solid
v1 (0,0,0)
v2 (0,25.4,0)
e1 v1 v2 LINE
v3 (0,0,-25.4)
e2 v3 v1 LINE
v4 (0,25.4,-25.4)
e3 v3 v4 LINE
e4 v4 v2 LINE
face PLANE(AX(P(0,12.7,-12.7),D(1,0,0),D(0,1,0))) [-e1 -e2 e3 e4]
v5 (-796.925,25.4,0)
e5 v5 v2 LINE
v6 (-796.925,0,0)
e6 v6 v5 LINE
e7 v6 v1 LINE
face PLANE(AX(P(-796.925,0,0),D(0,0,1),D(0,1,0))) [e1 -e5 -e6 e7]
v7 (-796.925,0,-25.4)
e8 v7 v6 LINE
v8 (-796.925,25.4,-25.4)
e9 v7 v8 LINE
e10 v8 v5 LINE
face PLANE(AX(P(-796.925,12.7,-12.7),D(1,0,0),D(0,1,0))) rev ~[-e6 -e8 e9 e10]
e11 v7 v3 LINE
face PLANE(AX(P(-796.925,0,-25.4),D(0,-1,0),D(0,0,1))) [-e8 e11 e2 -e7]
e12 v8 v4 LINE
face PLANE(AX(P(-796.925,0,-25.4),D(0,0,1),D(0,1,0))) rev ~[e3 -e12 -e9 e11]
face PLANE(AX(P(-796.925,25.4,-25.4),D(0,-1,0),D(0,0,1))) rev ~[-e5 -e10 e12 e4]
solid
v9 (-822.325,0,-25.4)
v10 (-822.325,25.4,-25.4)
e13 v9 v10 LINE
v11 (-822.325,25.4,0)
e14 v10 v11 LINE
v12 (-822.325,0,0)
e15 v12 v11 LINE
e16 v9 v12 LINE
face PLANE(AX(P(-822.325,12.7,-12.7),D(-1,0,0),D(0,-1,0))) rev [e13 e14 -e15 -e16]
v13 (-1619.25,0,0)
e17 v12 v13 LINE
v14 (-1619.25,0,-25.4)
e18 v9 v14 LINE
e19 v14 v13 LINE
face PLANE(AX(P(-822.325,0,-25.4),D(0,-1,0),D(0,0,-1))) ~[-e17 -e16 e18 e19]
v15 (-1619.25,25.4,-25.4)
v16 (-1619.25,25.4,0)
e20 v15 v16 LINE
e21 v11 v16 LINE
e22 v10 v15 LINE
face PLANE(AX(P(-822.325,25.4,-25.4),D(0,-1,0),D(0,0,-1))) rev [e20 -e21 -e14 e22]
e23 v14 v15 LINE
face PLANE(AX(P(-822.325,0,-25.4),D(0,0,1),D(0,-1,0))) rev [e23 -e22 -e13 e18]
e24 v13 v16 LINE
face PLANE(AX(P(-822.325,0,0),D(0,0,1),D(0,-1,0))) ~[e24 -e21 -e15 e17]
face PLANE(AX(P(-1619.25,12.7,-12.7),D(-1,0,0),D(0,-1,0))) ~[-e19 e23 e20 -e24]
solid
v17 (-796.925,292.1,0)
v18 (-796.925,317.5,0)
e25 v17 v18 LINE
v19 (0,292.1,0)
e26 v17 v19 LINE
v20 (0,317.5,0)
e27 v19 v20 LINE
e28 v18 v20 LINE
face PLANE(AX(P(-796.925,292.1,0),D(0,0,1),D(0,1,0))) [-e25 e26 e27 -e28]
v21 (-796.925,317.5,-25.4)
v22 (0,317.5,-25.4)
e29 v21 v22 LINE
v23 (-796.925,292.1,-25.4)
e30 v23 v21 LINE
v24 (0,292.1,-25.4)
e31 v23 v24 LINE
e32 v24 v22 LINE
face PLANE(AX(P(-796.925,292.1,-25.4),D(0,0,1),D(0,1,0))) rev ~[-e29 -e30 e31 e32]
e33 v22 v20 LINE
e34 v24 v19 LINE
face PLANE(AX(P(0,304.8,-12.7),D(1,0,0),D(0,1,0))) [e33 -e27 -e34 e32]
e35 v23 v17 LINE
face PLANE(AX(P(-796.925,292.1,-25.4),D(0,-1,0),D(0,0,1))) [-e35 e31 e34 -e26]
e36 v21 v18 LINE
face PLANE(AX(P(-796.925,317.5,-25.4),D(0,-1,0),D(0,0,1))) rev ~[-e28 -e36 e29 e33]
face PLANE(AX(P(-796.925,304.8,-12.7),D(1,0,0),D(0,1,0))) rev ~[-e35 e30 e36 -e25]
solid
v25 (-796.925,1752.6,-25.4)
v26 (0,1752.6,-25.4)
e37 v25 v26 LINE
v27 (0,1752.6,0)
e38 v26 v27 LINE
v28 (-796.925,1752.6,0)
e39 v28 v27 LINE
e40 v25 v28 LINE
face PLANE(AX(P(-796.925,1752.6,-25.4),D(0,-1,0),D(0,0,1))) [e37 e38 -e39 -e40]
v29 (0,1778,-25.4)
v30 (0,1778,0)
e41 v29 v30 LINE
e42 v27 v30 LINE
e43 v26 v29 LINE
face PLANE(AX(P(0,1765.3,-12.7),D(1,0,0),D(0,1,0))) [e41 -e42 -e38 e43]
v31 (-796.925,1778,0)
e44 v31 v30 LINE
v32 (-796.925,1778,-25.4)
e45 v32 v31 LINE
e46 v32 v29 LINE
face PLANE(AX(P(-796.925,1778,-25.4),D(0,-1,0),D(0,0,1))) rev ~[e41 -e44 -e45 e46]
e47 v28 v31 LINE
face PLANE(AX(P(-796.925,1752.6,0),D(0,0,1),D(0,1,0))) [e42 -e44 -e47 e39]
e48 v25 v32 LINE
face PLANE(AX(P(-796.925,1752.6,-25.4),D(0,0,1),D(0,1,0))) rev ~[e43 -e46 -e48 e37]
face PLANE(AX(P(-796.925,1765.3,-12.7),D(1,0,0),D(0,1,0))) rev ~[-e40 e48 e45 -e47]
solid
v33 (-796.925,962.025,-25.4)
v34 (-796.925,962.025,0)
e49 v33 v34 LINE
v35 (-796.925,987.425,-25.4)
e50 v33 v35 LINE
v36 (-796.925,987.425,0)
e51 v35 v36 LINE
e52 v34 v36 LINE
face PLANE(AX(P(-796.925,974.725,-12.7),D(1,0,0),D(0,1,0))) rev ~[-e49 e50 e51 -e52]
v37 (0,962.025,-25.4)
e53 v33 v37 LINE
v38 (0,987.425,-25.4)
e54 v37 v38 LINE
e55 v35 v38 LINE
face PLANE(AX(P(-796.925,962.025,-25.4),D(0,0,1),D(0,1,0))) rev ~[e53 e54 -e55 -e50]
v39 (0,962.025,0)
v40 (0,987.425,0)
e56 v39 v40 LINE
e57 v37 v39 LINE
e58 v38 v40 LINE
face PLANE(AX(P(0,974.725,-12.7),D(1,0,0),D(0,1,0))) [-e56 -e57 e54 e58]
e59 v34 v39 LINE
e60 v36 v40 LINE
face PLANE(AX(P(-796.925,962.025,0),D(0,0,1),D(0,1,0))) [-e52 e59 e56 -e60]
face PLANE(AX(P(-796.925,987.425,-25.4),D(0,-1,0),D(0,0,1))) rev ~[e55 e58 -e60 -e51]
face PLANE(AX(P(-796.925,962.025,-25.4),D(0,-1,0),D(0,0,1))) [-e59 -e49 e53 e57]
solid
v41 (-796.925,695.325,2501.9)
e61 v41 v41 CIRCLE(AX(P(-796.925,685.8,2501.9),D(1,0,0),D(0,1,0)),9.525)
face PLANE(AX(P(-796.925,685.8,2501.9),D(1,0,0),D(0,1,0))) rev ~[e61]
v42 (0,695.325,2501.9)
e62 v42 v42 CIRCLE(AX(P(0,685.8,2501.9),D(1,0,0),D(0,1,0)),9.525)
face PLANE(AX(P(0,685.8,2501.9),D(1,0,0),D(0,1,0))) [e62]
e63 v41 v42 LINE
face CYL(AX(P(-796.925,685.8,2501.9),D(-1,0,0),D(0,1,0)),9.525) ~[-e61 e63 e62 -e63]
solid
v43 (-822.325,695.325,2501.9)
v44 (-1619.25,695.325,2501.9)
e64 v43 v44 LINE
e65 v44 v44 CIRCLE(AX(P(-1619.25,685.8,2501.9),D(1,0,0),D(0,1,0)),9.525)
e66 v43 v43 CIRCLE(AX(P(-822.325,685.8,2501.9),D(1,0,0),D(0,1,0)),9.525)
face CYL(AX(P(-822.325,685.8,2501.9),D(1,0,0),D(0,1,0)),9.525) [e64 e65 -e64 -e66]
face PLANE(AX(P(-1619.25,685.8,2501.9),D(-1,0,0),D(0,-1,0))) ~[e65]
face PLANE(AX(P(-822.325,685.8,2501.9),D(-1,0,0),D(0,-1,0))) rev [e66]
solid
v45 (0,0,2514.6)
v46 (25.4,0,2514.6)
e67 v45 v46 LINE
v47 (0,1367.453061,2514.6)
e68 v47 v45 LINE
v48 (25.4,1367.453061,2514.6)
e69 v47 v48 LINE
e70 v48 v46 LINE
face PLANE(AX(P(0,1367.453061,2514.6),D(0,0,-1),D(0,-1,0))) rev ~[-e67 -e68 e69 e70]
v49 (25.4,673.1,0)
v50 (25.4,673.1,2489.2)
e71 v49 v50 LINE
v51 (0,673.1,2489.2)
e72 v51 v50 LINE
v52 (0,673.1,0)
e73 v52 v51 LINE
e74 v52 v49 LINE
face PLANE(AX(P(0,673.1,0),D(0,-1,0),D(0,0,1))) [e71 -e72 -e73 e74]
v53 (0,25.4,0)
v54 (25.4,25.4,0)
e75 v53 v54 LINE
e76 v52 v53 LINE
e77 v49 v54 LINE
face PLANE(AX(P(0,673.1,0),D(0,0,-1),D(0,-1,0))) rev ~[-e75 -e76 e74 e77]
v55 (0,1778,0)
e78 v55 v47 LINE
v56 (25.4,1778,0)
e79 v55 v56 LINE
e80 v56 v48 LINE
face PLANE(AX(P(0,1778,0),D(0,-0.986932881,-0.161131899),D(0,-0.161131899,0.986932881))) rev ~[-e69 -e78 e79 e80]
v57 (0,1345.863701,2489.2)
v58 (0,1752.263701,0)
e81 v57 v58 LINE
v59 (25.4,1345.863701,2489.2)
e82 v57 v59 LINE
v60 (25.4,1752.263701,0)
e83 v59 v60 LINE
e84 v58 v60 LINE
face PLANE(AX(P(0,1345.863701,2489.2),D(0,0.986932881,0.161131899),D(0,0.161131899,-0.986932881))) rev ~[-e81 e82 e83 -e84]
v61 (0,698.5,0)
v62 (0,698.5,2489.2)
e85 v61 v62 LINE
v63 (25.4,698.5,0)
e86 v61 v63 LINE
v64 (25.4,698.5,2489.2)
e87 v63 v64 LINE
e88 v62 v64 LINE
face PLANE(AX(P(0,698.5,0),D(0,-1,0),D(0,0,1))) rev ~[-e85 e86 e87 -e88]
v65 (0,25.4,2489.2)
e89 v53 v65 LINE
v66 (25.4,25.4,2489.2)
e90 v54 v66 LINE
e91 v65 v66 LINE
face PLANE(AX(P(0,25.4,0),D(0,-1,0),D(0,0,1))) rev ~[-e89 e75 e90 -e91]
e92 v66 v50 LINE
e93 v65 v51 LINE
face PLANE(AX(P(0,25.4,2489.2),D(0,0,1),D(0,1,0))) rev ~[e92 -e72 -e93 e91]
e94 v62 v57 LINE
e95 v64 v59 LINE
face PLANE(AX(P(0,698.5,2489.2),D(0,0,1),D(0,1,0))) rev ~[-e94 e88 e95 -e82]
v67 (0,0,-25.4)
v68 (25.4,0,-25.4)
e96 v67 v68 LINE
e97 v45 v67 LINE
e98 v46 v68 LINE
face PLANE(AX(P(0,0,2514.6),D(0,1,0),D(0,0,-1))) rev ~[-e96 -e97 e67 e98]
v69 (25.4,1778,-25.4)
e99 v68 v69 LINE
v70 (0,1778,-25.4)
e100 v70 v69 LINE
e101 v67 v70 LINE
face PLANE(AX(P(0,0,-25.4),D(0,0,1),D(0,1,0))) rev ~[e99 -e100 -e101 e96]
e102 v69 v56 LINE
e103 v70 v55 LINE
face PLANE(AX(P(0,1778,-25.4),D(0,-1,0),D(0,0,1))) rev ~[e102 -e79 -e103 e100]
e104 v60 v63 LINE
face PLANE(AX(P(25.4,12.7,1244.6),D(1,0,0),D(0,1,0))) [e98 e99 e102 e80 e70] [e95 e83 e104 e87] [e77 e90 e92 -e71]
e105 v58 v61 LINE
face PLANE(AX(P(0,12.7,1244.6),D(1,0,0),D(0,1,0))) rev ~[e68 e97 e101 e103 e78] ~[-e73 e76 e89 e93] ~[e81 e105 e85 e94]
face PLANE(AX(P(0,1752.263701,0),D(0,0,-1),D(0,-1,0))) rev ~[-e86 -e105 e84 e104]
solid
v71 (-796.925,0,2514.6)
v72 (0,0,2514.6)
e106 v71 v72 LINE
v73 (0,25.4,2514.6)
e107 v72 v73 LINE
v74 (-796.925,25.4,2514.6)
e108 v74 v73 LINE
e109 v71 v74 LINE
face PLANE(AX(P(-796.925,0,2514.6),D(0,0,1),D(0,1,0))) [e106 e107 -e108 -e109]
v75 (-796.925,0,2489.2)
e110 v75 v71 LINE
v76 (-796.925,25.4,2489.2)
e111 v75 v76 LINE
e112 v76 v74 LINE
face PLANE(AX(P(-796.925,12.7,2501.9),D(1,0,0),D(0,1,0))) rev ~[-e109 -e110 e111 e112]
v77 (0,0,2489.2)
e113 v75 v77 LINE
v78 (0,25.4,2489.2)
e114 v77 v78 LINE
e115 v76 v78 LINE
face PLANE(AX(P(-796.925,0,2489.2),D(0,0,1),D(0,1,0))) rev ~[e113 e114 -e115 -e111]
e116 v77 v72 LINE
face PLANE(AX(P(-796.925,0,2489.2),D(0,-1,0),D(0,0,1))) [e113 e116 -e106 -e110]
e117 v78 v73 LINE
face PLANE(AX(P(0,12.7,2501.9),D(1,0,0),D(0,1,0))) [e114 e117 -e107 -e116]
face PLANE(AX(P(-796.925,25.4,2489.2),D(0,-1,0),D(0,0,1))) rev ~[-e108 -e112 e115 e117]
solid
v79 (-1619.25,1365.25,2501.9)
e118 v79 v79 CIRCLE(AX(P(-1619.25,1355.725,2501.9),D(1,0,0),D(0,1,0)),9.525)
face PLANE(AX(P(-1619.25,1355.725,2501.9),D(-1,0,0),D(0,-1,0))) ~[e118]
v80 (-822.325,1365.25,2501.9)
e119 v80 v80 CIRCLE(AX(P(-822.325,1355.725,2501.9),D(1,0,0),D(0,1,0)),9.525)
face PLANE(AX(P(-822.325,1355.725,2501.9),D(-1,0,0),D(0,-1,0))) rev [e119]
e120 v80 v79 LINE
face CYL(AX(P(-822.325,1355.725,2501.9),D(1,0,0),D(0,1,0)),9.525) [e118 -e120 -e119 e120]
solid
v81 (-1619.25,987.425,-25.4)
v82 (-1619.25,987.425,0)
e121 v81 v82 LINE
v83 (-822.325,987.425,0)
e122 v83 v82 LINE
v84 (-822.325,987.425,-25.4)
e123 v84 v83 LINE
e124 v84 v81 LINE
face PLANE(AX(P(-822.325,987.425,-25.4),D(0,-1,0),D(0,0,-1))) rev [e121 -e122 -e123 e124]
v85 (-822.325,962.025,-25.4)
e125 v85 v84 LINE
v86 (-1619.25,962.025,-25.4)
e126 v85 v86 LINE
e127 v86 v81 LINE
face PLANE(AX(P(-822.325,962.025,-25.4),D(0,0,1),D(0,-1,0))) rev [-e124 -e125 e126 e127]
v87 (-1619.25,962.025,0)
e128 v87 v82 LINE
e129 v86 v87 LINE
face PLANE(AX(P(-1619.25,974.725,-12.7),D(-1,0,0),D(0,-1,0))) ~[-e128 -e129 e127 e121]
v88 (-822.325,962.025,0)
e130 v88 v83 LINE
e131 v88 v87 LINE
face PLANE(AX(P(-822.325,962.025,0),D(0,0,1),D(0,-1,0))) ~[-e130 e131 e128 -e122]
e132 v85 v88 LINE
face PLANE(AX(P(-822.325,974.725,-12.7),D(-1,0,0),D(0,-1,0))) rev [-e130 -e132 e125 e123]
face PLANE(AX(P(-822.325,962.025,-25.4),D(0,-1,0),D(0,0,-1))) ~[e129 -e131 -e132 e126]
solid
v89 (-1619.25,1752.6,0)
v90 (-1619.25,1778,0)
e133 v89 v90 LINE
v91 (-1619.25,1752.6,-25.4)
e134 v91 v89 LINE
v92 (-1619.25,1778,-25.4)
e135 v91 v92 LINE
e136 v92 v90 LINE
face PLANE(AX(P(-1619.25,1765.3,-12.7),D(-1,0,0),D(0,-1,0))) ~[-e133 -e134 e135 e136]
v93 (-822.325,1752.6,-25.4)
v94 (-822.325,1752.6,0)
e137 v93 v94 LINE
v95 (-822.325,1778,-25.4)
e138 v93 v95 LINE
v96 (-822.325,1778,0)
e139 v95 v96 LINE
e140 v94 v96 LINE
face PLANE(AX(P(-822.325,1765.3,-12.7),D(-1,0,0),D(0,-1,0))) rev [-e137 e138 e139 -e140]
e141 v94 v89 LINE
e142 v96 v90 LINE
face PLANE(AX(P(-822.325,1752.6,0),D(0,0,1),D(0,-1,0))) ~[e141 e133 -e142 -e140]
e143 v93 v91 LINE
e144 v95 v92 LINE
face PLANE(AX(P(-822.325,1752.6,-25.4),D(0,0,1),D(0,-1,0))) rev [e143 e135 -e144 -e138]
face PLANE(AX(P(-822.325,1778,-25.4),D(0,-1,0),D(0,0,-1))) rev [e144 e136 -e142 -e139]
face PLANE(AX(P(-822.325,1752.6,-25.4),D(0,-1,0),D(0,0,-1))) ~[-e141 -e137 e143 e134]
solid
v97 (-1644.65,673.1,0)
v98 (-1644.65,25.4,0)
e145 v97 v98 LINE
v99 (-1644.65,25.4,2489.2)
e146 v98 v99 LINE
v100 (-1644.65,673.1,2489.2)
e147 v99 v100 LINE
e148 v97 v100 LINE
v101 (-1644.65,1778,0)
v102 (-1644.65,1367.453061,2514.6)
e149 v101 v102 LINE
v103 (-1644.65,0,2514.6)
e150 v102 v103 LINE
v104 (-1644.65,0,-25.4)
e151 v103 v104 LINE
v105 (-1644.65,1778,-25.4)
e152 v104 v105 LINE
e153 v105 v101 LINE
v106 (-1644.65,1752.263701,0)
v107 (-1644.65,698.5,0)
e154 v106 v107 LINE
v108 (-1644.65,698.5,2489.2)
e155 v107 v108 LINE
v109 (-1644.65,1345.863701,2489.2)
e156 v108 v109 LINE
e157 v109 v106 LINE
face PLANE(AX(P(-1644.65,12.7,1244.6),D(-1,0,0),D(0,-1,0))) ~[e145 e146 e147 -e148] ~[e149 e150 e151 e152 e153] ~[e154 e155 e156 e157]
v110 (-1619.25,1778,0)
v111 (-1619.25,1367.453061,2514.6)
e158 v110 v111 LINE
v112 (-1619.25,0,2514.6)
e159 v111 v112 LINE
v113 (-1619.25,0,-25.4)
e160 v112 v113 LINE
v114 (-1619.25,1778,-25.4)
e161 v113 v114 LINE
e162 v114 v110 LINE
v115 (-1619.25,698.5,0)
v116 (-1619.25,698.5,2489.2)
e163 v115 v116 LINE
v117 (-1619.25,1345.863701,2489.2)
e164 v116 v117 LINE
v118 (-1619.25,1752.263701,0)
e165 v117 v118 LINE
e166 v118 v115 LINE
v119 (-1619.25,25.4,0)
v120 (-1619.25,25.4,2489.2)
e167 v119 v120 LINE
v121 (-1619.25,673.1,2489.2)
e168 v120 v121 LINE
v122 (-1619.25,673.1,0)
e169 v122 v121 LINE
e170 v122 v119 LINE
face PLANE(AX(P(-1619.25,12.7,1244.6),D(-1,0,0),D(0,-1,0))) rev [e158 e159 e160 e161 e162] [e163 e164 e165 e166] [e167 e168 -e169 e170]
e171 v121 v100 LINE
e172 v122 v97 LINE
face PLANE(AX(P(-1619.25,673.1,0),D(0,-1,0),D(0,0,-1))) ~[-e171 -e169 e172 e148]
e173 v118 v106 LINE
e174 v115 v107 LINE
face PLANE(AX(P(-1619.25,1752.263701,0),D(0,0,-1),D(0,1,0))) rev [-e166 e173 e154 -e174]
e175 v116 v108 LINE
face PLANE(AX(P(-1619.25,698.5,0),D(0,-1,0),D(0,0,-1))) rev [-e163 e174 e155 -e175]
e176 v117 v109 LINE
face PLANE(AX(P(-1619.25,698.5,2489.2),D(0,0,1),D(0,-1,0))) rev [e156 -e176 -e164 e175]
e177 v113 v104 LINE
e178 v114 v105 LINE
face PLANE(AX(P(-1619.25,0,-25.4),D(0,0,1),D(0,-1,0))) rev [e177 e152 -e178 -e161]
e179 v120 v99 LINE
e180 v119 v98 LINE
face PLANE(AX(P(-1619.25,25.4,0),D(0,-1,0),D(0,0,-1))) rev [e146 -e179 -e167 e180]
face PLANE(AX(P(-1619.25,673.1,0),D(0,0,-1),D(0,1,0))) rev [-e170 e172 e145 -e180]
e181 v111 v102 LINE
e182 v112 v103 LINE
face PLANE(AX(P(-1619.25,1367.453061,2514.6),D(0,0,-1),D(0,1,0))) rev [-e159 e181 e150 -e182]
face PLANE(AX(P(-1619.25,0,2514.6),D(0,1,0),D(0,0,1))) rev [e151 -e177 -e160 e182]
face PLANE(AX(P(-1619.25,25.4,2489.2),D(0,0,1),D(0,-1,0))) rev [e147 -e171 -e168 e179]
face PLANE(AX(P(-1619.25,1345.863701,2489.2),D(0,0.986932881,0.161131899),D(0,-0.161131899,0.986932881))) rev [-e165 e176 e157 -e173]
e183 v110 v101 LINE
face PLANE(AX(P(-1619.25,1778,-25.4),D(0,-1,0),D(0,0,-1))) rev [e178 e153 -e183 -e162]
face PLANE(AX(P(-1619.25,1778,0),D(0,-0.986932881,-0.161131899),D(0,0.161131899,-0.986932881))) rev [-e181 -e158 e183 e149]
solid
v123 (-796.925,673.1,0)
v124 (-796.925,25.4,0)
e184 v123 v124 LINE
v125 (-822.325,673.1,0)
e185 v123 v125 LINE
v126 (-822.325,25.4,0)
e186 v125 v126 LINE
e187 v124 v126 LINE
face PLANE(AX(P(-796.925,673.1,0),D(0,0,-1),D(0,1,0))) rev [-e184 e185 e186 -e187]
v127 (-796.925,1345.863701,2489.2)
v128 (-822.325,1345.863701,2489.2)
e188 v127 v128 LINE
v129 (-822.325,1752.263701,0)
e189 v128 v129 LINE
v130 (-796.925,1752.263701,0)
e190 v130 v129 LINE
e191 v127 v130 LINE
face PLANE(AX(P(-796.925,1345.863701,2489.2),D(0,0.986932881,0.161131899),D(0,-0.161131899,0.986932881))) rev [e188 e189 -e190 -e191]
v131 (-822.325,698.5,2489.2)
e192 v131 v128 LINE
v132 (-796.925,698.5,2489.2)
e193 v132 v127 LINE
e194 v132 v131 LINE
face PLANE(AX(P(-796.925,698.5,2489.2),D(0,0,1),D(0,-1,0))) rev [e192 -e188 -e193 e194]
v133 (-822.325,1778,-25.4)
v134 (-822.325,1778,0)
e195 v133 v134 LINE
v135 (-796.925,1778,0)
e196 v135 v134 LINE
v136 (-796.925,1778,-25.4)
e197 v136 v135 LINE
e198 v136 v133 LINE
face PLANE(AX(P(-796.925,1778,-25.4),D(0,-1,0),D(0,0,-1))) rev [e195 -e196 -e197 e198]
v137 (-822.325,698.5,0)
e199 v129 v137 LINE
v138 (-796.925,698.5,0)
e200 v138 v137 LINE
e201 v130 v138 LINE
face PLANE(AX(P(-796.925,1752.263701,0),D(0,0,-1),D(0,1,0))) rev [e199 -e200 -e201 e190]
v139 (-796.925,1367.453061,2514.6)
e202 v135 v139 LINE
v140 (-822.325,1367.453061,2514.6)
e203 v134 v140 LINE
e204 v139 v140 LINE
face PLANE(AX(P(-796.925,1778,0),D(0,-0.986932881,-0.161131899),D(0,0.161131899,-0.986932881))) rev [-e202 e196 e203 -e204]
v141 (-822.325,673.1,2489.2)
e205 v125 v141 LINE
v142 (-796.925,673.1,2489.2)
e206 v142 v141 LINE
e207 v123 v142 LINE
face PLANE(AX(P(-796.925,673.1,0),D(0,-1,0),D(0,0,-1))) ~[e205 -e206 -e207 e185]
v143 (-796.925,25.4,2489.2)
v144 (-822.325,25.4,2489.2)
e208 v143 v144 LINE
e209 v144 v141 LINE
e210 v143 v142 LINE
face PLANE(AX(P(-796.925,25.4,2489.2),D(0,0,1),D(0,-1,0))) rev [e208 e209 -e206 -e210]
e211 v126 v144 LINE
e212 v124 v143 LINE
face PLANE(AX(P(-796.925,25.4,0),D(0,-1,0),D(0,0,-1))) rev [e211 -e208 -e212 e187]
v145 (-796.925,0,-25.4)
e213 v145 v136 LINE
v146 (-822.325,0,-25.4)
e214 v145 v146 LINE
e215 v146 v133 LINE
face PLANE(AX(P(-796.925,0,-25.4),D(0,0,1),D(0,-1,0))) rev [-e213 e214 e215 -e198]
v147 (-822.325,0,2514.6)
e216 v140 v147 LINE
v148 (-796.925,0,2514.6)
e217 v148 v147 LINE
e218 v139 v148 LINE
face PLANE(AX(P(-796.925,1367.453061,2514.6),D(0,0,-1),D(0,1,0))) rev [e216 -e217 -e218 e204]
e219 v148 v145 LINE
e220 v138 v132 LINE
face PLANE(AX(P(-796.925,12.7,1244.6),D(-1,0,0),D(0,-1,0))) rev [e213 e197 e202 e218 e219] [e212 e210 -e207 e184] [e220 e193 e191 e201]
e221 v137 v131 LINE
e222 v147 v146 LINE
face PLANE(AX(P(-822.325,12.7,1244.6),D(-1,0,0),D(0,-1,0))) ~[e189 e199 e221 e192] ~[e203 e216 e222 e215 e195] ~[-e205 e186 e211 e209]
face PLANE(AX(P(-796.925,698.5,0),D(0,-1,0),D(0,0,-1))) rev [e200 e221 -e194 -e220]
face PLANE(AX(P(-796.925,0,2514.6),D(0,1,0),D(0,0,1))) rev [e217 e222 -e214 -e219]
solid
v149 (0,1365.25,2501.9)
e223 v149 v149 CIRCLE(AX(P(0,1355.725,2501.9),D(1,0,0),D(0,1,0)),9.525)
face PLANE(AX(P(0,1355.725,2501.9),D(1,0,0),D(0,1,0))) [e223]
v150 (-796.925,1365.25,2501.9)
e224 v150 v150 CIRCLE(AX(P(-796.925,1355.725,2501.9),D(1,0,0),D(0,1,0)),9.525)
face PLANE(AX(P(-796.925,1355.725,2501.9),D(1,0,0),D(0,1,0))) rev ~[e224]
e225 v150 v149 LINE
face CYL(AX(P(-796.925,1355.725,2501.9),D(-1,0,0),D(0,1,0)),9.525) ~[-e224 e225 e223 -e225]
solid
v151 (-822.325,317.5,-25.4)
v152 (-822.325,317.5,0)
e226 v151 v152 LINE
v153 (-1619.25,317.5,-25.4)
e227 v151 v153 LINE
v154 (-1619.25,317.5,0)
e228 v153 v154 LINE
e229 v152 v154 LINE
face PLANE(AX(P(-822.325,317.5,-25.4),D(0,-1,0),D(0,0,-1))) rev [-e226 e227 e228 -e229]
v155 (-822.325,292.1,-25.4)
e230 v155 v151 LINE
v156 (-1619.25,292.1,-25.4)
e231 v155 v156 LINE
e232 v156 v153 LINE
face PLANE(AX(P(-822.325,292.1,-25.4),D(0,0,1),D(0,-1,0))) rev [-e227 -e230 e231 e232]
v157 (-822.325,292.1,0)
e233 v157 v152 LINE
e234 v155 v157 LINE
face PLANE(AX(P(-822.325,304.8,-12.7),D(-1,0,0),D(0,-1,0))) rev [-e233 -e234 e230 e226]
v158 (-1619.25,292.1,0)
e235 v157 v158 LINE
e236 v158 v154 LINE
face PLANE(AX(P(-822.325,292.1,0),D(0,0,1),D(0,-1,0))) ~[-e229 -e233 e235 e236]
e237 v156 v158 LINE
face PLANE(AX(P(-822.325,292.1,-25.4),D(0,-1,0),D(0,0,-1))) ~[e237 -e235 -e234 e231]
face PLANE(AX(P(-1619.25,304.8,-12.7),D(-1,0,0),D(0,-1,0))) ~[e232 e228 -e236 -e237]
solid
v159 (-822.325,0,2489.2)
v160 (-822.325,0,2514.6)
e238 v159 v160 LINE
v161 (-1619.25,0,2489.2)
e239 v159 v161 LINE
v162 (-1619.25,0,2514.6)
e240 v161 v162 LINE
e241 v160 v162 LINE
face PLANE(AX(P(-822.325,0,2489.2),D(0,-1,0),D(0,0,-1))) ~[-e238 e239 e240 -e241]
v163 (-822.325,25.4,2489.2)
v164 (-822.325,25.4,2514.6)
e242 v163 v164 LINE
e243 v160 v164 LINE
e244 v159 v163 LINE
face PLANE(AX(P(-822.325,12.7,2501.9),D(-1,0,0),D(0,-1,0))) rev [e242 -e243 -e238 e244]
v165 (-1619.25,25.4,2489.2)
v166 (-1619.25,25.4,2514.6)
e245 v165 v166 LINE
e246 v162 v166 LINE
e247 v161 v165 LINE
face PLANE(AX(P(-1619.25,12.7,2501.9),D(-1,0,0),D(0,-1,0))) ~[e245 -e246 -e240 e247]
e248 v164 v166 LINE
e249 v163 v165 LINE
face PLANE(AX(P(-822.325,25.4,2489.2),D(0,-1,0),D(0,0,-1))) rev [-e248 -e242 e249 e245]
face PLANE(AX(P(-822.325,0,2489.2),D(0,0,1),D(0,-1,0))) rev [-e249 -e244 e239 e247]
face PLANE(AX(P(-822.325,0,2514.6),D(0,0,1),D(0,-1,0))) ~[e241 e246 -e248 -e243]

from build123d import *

# Parameters (mm, degrees)
F0_W     = 25.4
F0_H     = 2489.2
F1_DEPTH = 25.4
F6_W     = 25.4
F6_H     = 25.4
F7_DEPTH = 796.925
F6_R     = 9.525


with BuildPart() as f1:
    # F0 (on Right) → F1 (new body)
    with BuildSketch(Plane.YZ):
        with Locations((12.7, 1244.6)):
            Rectangle(F0_W, F0_H)
        Polygon((25.4, 0), (0, 0), (0, -25.4), (1778, -25.4), (1778, 0), (1752.2637007088, 0), (698.5, 0), (673.1, 0), align=None)
        Polygon((0, 2514.6), (0, 2489.2), (25.4, 2489.2), (673.1, 2489.2), (698.5, 2489.2), (1345.8637007088, 2489.2), (1371.6, 2489.2), (1367.4530612245, 2514.6), align=None)
        Polygon((1752.2637007088, 0), (1778, 0), (1371.6, 2489.2), (1345.8637007088, 2489.2), align=None)
        with Locations((685.8, 1244.6)):
            Rectangle(F0_W, F0_H)
    extrude(amount=F1_DEPTH)


with BuildPart() as f3_1:
    # F3: instance of F1
    add(f1.part.mirror(Plane(origin=(-809.625, 769.7711953275, 1196.3676158974), x_dir=(0, 1, 0), z_dir=(1, 0, 0))))


with BuildPart() as f5_1:
    # F5: instance of F1
    add(f1.part.mirror(Plane(origin=(-398.4625, 769.7711953275, 1196.3676158974), x_dir=(0, 1, 0), z_dir=(1, 0, 0))))


with BuildPart() as f7:
    # F6 (on face) → F7 (new body, through all)
    with BuildSketch(Plane.YZ.offset(-796.925)):
        with Locations((1765.3, -12.7)):
            Rectangle(F6_W, F6_H)
    extrude(amount=F7_DEPTH)


with BuildPart() as f7b:
    # F6 (on face) → F7, piece 2 (new body, through all)
    with BuildSketch(Plane.YZ.offset(-796.925)):
        with Locations((12.7, -12.7)):
            Rectangle(F6_W, F6_H)
    extrude(amount=F7_DEPTH)


with BuildPart() as f7c:
    # F6 (on face) → F7, piece 3 (new body, through all)
    with BuildSketch(Plane.YZ.offset(-796.925)):
        with Locations((12.7, 2501.9)):
            Rectangle(F6_W, F6_H)
    extrude(amount=F7_DEPTH)


with BuildPart() as f7d:
    # F6 (on face) → F7, piece 4 (new body, through all)
    with BuildSketch(Plane.YZ.offset(-796.925)):
        with Locations((304.8, -12.7)):
            Rectangle(F6_W, F6_H)
    extrude(amount=F7_DEPTH)


with BuildPart() as f7e:
    # F6 (on face) → F7, piece 5 (new body, through all)
    with BuildSketch(Plane.YZ.offset(-796.925)):
        with Locations((974.725, -12.7)):
            Rectangle(F6_W, F6_H)
    extrude(amount=F7_DEPTH)


with BuildPart() as f7f:
    # F6 (on face) → F7, piece 6 (new body, through all)
    with BuildSketch(Plane.YZ.offset(-796.925)):
        with Locations((685.8, 2501.9)):
            Circle(F6_R)
    extrude(amount=F7_DEPTH)


with BuildPart() as f7g:
    # F6 (on face) → F7, piece 7 (new body, through all)
    with BuildSketch(Plane.YZ.offset(-796.925)):
        with Locations((1355.725, 2501.9)):
            Circle(F6_R)
    extrude(amount=F7_DEPTH)


with BuildPart() as f9_1:
    # F9: instance of F7c
    add(f7c.part.mirror(Plane(origin=(-809.625, 769.7711953275, 1196.3676158974), x_dir=(0, 1, 0), z_dir=(1, 0, 0))))


with BuildPart() as f9_2:
    # F9: instance of F7f
    add(f7f.part.mirror(Plane(origin=(-809.625, 769.7711953275, 1196.3676158974), x_dir=(0, 1, 0), z_dir=(1, 0, 0))))


with BuildPart() as f9_3:
    # F9: instance of F7g
    add(f7g.part.mirror(Plane(origin=(-809.625, 769.7711953275, 1196.3676158974), x_dir=(0, 1, 0), z_dir=(1, 0, 0))))


with BuildPart() as f9_4:
    # F9: instance of F7
    add(f7.part.mirror(Plane(origin=(-809.625, 769.7711953275, 1196.3676158974), x_dir=(0, 1, 0), z_dir=(1, 0, 0))))


with BuildPart() as f9_5:
    # F9: instance of F7e
    add(f7e.part.mirror(Plane(origin=(-809.625, 769.7711953275, 1196.3676158974), x_dir=(0, 1, 0), z_dir=(1, 0, 0))))


with BuildPart() as f9_6:
    # F9: instance of F7d
    add(f7d.part.mirror(Plane(origin=(-809.625, 769.7711953275, 1196.3676158974), x_dir=(0, 1, 0), z_dir=(1, 0, 0))))


with BuildPart() as f9_7:
    # F9: instance of F7b
    add(f7b.part.mirror(Plane(origin=(-809.625, 769.7711953275, 1196.3676158974), x_dir=(0, 1, 0), z_dir=(1, 0, 0))))


solid = Compound([f1.part, f3_1.part, f5_1.part, f7.part, f7b.part, f7c.part, f7d.part, f7e.part, f7f.part, f7g.part, f9_1.part, f9_2.part, f9_3.part, f9_4.part, f9_5.part, f9_6.part, f9_7.part])
